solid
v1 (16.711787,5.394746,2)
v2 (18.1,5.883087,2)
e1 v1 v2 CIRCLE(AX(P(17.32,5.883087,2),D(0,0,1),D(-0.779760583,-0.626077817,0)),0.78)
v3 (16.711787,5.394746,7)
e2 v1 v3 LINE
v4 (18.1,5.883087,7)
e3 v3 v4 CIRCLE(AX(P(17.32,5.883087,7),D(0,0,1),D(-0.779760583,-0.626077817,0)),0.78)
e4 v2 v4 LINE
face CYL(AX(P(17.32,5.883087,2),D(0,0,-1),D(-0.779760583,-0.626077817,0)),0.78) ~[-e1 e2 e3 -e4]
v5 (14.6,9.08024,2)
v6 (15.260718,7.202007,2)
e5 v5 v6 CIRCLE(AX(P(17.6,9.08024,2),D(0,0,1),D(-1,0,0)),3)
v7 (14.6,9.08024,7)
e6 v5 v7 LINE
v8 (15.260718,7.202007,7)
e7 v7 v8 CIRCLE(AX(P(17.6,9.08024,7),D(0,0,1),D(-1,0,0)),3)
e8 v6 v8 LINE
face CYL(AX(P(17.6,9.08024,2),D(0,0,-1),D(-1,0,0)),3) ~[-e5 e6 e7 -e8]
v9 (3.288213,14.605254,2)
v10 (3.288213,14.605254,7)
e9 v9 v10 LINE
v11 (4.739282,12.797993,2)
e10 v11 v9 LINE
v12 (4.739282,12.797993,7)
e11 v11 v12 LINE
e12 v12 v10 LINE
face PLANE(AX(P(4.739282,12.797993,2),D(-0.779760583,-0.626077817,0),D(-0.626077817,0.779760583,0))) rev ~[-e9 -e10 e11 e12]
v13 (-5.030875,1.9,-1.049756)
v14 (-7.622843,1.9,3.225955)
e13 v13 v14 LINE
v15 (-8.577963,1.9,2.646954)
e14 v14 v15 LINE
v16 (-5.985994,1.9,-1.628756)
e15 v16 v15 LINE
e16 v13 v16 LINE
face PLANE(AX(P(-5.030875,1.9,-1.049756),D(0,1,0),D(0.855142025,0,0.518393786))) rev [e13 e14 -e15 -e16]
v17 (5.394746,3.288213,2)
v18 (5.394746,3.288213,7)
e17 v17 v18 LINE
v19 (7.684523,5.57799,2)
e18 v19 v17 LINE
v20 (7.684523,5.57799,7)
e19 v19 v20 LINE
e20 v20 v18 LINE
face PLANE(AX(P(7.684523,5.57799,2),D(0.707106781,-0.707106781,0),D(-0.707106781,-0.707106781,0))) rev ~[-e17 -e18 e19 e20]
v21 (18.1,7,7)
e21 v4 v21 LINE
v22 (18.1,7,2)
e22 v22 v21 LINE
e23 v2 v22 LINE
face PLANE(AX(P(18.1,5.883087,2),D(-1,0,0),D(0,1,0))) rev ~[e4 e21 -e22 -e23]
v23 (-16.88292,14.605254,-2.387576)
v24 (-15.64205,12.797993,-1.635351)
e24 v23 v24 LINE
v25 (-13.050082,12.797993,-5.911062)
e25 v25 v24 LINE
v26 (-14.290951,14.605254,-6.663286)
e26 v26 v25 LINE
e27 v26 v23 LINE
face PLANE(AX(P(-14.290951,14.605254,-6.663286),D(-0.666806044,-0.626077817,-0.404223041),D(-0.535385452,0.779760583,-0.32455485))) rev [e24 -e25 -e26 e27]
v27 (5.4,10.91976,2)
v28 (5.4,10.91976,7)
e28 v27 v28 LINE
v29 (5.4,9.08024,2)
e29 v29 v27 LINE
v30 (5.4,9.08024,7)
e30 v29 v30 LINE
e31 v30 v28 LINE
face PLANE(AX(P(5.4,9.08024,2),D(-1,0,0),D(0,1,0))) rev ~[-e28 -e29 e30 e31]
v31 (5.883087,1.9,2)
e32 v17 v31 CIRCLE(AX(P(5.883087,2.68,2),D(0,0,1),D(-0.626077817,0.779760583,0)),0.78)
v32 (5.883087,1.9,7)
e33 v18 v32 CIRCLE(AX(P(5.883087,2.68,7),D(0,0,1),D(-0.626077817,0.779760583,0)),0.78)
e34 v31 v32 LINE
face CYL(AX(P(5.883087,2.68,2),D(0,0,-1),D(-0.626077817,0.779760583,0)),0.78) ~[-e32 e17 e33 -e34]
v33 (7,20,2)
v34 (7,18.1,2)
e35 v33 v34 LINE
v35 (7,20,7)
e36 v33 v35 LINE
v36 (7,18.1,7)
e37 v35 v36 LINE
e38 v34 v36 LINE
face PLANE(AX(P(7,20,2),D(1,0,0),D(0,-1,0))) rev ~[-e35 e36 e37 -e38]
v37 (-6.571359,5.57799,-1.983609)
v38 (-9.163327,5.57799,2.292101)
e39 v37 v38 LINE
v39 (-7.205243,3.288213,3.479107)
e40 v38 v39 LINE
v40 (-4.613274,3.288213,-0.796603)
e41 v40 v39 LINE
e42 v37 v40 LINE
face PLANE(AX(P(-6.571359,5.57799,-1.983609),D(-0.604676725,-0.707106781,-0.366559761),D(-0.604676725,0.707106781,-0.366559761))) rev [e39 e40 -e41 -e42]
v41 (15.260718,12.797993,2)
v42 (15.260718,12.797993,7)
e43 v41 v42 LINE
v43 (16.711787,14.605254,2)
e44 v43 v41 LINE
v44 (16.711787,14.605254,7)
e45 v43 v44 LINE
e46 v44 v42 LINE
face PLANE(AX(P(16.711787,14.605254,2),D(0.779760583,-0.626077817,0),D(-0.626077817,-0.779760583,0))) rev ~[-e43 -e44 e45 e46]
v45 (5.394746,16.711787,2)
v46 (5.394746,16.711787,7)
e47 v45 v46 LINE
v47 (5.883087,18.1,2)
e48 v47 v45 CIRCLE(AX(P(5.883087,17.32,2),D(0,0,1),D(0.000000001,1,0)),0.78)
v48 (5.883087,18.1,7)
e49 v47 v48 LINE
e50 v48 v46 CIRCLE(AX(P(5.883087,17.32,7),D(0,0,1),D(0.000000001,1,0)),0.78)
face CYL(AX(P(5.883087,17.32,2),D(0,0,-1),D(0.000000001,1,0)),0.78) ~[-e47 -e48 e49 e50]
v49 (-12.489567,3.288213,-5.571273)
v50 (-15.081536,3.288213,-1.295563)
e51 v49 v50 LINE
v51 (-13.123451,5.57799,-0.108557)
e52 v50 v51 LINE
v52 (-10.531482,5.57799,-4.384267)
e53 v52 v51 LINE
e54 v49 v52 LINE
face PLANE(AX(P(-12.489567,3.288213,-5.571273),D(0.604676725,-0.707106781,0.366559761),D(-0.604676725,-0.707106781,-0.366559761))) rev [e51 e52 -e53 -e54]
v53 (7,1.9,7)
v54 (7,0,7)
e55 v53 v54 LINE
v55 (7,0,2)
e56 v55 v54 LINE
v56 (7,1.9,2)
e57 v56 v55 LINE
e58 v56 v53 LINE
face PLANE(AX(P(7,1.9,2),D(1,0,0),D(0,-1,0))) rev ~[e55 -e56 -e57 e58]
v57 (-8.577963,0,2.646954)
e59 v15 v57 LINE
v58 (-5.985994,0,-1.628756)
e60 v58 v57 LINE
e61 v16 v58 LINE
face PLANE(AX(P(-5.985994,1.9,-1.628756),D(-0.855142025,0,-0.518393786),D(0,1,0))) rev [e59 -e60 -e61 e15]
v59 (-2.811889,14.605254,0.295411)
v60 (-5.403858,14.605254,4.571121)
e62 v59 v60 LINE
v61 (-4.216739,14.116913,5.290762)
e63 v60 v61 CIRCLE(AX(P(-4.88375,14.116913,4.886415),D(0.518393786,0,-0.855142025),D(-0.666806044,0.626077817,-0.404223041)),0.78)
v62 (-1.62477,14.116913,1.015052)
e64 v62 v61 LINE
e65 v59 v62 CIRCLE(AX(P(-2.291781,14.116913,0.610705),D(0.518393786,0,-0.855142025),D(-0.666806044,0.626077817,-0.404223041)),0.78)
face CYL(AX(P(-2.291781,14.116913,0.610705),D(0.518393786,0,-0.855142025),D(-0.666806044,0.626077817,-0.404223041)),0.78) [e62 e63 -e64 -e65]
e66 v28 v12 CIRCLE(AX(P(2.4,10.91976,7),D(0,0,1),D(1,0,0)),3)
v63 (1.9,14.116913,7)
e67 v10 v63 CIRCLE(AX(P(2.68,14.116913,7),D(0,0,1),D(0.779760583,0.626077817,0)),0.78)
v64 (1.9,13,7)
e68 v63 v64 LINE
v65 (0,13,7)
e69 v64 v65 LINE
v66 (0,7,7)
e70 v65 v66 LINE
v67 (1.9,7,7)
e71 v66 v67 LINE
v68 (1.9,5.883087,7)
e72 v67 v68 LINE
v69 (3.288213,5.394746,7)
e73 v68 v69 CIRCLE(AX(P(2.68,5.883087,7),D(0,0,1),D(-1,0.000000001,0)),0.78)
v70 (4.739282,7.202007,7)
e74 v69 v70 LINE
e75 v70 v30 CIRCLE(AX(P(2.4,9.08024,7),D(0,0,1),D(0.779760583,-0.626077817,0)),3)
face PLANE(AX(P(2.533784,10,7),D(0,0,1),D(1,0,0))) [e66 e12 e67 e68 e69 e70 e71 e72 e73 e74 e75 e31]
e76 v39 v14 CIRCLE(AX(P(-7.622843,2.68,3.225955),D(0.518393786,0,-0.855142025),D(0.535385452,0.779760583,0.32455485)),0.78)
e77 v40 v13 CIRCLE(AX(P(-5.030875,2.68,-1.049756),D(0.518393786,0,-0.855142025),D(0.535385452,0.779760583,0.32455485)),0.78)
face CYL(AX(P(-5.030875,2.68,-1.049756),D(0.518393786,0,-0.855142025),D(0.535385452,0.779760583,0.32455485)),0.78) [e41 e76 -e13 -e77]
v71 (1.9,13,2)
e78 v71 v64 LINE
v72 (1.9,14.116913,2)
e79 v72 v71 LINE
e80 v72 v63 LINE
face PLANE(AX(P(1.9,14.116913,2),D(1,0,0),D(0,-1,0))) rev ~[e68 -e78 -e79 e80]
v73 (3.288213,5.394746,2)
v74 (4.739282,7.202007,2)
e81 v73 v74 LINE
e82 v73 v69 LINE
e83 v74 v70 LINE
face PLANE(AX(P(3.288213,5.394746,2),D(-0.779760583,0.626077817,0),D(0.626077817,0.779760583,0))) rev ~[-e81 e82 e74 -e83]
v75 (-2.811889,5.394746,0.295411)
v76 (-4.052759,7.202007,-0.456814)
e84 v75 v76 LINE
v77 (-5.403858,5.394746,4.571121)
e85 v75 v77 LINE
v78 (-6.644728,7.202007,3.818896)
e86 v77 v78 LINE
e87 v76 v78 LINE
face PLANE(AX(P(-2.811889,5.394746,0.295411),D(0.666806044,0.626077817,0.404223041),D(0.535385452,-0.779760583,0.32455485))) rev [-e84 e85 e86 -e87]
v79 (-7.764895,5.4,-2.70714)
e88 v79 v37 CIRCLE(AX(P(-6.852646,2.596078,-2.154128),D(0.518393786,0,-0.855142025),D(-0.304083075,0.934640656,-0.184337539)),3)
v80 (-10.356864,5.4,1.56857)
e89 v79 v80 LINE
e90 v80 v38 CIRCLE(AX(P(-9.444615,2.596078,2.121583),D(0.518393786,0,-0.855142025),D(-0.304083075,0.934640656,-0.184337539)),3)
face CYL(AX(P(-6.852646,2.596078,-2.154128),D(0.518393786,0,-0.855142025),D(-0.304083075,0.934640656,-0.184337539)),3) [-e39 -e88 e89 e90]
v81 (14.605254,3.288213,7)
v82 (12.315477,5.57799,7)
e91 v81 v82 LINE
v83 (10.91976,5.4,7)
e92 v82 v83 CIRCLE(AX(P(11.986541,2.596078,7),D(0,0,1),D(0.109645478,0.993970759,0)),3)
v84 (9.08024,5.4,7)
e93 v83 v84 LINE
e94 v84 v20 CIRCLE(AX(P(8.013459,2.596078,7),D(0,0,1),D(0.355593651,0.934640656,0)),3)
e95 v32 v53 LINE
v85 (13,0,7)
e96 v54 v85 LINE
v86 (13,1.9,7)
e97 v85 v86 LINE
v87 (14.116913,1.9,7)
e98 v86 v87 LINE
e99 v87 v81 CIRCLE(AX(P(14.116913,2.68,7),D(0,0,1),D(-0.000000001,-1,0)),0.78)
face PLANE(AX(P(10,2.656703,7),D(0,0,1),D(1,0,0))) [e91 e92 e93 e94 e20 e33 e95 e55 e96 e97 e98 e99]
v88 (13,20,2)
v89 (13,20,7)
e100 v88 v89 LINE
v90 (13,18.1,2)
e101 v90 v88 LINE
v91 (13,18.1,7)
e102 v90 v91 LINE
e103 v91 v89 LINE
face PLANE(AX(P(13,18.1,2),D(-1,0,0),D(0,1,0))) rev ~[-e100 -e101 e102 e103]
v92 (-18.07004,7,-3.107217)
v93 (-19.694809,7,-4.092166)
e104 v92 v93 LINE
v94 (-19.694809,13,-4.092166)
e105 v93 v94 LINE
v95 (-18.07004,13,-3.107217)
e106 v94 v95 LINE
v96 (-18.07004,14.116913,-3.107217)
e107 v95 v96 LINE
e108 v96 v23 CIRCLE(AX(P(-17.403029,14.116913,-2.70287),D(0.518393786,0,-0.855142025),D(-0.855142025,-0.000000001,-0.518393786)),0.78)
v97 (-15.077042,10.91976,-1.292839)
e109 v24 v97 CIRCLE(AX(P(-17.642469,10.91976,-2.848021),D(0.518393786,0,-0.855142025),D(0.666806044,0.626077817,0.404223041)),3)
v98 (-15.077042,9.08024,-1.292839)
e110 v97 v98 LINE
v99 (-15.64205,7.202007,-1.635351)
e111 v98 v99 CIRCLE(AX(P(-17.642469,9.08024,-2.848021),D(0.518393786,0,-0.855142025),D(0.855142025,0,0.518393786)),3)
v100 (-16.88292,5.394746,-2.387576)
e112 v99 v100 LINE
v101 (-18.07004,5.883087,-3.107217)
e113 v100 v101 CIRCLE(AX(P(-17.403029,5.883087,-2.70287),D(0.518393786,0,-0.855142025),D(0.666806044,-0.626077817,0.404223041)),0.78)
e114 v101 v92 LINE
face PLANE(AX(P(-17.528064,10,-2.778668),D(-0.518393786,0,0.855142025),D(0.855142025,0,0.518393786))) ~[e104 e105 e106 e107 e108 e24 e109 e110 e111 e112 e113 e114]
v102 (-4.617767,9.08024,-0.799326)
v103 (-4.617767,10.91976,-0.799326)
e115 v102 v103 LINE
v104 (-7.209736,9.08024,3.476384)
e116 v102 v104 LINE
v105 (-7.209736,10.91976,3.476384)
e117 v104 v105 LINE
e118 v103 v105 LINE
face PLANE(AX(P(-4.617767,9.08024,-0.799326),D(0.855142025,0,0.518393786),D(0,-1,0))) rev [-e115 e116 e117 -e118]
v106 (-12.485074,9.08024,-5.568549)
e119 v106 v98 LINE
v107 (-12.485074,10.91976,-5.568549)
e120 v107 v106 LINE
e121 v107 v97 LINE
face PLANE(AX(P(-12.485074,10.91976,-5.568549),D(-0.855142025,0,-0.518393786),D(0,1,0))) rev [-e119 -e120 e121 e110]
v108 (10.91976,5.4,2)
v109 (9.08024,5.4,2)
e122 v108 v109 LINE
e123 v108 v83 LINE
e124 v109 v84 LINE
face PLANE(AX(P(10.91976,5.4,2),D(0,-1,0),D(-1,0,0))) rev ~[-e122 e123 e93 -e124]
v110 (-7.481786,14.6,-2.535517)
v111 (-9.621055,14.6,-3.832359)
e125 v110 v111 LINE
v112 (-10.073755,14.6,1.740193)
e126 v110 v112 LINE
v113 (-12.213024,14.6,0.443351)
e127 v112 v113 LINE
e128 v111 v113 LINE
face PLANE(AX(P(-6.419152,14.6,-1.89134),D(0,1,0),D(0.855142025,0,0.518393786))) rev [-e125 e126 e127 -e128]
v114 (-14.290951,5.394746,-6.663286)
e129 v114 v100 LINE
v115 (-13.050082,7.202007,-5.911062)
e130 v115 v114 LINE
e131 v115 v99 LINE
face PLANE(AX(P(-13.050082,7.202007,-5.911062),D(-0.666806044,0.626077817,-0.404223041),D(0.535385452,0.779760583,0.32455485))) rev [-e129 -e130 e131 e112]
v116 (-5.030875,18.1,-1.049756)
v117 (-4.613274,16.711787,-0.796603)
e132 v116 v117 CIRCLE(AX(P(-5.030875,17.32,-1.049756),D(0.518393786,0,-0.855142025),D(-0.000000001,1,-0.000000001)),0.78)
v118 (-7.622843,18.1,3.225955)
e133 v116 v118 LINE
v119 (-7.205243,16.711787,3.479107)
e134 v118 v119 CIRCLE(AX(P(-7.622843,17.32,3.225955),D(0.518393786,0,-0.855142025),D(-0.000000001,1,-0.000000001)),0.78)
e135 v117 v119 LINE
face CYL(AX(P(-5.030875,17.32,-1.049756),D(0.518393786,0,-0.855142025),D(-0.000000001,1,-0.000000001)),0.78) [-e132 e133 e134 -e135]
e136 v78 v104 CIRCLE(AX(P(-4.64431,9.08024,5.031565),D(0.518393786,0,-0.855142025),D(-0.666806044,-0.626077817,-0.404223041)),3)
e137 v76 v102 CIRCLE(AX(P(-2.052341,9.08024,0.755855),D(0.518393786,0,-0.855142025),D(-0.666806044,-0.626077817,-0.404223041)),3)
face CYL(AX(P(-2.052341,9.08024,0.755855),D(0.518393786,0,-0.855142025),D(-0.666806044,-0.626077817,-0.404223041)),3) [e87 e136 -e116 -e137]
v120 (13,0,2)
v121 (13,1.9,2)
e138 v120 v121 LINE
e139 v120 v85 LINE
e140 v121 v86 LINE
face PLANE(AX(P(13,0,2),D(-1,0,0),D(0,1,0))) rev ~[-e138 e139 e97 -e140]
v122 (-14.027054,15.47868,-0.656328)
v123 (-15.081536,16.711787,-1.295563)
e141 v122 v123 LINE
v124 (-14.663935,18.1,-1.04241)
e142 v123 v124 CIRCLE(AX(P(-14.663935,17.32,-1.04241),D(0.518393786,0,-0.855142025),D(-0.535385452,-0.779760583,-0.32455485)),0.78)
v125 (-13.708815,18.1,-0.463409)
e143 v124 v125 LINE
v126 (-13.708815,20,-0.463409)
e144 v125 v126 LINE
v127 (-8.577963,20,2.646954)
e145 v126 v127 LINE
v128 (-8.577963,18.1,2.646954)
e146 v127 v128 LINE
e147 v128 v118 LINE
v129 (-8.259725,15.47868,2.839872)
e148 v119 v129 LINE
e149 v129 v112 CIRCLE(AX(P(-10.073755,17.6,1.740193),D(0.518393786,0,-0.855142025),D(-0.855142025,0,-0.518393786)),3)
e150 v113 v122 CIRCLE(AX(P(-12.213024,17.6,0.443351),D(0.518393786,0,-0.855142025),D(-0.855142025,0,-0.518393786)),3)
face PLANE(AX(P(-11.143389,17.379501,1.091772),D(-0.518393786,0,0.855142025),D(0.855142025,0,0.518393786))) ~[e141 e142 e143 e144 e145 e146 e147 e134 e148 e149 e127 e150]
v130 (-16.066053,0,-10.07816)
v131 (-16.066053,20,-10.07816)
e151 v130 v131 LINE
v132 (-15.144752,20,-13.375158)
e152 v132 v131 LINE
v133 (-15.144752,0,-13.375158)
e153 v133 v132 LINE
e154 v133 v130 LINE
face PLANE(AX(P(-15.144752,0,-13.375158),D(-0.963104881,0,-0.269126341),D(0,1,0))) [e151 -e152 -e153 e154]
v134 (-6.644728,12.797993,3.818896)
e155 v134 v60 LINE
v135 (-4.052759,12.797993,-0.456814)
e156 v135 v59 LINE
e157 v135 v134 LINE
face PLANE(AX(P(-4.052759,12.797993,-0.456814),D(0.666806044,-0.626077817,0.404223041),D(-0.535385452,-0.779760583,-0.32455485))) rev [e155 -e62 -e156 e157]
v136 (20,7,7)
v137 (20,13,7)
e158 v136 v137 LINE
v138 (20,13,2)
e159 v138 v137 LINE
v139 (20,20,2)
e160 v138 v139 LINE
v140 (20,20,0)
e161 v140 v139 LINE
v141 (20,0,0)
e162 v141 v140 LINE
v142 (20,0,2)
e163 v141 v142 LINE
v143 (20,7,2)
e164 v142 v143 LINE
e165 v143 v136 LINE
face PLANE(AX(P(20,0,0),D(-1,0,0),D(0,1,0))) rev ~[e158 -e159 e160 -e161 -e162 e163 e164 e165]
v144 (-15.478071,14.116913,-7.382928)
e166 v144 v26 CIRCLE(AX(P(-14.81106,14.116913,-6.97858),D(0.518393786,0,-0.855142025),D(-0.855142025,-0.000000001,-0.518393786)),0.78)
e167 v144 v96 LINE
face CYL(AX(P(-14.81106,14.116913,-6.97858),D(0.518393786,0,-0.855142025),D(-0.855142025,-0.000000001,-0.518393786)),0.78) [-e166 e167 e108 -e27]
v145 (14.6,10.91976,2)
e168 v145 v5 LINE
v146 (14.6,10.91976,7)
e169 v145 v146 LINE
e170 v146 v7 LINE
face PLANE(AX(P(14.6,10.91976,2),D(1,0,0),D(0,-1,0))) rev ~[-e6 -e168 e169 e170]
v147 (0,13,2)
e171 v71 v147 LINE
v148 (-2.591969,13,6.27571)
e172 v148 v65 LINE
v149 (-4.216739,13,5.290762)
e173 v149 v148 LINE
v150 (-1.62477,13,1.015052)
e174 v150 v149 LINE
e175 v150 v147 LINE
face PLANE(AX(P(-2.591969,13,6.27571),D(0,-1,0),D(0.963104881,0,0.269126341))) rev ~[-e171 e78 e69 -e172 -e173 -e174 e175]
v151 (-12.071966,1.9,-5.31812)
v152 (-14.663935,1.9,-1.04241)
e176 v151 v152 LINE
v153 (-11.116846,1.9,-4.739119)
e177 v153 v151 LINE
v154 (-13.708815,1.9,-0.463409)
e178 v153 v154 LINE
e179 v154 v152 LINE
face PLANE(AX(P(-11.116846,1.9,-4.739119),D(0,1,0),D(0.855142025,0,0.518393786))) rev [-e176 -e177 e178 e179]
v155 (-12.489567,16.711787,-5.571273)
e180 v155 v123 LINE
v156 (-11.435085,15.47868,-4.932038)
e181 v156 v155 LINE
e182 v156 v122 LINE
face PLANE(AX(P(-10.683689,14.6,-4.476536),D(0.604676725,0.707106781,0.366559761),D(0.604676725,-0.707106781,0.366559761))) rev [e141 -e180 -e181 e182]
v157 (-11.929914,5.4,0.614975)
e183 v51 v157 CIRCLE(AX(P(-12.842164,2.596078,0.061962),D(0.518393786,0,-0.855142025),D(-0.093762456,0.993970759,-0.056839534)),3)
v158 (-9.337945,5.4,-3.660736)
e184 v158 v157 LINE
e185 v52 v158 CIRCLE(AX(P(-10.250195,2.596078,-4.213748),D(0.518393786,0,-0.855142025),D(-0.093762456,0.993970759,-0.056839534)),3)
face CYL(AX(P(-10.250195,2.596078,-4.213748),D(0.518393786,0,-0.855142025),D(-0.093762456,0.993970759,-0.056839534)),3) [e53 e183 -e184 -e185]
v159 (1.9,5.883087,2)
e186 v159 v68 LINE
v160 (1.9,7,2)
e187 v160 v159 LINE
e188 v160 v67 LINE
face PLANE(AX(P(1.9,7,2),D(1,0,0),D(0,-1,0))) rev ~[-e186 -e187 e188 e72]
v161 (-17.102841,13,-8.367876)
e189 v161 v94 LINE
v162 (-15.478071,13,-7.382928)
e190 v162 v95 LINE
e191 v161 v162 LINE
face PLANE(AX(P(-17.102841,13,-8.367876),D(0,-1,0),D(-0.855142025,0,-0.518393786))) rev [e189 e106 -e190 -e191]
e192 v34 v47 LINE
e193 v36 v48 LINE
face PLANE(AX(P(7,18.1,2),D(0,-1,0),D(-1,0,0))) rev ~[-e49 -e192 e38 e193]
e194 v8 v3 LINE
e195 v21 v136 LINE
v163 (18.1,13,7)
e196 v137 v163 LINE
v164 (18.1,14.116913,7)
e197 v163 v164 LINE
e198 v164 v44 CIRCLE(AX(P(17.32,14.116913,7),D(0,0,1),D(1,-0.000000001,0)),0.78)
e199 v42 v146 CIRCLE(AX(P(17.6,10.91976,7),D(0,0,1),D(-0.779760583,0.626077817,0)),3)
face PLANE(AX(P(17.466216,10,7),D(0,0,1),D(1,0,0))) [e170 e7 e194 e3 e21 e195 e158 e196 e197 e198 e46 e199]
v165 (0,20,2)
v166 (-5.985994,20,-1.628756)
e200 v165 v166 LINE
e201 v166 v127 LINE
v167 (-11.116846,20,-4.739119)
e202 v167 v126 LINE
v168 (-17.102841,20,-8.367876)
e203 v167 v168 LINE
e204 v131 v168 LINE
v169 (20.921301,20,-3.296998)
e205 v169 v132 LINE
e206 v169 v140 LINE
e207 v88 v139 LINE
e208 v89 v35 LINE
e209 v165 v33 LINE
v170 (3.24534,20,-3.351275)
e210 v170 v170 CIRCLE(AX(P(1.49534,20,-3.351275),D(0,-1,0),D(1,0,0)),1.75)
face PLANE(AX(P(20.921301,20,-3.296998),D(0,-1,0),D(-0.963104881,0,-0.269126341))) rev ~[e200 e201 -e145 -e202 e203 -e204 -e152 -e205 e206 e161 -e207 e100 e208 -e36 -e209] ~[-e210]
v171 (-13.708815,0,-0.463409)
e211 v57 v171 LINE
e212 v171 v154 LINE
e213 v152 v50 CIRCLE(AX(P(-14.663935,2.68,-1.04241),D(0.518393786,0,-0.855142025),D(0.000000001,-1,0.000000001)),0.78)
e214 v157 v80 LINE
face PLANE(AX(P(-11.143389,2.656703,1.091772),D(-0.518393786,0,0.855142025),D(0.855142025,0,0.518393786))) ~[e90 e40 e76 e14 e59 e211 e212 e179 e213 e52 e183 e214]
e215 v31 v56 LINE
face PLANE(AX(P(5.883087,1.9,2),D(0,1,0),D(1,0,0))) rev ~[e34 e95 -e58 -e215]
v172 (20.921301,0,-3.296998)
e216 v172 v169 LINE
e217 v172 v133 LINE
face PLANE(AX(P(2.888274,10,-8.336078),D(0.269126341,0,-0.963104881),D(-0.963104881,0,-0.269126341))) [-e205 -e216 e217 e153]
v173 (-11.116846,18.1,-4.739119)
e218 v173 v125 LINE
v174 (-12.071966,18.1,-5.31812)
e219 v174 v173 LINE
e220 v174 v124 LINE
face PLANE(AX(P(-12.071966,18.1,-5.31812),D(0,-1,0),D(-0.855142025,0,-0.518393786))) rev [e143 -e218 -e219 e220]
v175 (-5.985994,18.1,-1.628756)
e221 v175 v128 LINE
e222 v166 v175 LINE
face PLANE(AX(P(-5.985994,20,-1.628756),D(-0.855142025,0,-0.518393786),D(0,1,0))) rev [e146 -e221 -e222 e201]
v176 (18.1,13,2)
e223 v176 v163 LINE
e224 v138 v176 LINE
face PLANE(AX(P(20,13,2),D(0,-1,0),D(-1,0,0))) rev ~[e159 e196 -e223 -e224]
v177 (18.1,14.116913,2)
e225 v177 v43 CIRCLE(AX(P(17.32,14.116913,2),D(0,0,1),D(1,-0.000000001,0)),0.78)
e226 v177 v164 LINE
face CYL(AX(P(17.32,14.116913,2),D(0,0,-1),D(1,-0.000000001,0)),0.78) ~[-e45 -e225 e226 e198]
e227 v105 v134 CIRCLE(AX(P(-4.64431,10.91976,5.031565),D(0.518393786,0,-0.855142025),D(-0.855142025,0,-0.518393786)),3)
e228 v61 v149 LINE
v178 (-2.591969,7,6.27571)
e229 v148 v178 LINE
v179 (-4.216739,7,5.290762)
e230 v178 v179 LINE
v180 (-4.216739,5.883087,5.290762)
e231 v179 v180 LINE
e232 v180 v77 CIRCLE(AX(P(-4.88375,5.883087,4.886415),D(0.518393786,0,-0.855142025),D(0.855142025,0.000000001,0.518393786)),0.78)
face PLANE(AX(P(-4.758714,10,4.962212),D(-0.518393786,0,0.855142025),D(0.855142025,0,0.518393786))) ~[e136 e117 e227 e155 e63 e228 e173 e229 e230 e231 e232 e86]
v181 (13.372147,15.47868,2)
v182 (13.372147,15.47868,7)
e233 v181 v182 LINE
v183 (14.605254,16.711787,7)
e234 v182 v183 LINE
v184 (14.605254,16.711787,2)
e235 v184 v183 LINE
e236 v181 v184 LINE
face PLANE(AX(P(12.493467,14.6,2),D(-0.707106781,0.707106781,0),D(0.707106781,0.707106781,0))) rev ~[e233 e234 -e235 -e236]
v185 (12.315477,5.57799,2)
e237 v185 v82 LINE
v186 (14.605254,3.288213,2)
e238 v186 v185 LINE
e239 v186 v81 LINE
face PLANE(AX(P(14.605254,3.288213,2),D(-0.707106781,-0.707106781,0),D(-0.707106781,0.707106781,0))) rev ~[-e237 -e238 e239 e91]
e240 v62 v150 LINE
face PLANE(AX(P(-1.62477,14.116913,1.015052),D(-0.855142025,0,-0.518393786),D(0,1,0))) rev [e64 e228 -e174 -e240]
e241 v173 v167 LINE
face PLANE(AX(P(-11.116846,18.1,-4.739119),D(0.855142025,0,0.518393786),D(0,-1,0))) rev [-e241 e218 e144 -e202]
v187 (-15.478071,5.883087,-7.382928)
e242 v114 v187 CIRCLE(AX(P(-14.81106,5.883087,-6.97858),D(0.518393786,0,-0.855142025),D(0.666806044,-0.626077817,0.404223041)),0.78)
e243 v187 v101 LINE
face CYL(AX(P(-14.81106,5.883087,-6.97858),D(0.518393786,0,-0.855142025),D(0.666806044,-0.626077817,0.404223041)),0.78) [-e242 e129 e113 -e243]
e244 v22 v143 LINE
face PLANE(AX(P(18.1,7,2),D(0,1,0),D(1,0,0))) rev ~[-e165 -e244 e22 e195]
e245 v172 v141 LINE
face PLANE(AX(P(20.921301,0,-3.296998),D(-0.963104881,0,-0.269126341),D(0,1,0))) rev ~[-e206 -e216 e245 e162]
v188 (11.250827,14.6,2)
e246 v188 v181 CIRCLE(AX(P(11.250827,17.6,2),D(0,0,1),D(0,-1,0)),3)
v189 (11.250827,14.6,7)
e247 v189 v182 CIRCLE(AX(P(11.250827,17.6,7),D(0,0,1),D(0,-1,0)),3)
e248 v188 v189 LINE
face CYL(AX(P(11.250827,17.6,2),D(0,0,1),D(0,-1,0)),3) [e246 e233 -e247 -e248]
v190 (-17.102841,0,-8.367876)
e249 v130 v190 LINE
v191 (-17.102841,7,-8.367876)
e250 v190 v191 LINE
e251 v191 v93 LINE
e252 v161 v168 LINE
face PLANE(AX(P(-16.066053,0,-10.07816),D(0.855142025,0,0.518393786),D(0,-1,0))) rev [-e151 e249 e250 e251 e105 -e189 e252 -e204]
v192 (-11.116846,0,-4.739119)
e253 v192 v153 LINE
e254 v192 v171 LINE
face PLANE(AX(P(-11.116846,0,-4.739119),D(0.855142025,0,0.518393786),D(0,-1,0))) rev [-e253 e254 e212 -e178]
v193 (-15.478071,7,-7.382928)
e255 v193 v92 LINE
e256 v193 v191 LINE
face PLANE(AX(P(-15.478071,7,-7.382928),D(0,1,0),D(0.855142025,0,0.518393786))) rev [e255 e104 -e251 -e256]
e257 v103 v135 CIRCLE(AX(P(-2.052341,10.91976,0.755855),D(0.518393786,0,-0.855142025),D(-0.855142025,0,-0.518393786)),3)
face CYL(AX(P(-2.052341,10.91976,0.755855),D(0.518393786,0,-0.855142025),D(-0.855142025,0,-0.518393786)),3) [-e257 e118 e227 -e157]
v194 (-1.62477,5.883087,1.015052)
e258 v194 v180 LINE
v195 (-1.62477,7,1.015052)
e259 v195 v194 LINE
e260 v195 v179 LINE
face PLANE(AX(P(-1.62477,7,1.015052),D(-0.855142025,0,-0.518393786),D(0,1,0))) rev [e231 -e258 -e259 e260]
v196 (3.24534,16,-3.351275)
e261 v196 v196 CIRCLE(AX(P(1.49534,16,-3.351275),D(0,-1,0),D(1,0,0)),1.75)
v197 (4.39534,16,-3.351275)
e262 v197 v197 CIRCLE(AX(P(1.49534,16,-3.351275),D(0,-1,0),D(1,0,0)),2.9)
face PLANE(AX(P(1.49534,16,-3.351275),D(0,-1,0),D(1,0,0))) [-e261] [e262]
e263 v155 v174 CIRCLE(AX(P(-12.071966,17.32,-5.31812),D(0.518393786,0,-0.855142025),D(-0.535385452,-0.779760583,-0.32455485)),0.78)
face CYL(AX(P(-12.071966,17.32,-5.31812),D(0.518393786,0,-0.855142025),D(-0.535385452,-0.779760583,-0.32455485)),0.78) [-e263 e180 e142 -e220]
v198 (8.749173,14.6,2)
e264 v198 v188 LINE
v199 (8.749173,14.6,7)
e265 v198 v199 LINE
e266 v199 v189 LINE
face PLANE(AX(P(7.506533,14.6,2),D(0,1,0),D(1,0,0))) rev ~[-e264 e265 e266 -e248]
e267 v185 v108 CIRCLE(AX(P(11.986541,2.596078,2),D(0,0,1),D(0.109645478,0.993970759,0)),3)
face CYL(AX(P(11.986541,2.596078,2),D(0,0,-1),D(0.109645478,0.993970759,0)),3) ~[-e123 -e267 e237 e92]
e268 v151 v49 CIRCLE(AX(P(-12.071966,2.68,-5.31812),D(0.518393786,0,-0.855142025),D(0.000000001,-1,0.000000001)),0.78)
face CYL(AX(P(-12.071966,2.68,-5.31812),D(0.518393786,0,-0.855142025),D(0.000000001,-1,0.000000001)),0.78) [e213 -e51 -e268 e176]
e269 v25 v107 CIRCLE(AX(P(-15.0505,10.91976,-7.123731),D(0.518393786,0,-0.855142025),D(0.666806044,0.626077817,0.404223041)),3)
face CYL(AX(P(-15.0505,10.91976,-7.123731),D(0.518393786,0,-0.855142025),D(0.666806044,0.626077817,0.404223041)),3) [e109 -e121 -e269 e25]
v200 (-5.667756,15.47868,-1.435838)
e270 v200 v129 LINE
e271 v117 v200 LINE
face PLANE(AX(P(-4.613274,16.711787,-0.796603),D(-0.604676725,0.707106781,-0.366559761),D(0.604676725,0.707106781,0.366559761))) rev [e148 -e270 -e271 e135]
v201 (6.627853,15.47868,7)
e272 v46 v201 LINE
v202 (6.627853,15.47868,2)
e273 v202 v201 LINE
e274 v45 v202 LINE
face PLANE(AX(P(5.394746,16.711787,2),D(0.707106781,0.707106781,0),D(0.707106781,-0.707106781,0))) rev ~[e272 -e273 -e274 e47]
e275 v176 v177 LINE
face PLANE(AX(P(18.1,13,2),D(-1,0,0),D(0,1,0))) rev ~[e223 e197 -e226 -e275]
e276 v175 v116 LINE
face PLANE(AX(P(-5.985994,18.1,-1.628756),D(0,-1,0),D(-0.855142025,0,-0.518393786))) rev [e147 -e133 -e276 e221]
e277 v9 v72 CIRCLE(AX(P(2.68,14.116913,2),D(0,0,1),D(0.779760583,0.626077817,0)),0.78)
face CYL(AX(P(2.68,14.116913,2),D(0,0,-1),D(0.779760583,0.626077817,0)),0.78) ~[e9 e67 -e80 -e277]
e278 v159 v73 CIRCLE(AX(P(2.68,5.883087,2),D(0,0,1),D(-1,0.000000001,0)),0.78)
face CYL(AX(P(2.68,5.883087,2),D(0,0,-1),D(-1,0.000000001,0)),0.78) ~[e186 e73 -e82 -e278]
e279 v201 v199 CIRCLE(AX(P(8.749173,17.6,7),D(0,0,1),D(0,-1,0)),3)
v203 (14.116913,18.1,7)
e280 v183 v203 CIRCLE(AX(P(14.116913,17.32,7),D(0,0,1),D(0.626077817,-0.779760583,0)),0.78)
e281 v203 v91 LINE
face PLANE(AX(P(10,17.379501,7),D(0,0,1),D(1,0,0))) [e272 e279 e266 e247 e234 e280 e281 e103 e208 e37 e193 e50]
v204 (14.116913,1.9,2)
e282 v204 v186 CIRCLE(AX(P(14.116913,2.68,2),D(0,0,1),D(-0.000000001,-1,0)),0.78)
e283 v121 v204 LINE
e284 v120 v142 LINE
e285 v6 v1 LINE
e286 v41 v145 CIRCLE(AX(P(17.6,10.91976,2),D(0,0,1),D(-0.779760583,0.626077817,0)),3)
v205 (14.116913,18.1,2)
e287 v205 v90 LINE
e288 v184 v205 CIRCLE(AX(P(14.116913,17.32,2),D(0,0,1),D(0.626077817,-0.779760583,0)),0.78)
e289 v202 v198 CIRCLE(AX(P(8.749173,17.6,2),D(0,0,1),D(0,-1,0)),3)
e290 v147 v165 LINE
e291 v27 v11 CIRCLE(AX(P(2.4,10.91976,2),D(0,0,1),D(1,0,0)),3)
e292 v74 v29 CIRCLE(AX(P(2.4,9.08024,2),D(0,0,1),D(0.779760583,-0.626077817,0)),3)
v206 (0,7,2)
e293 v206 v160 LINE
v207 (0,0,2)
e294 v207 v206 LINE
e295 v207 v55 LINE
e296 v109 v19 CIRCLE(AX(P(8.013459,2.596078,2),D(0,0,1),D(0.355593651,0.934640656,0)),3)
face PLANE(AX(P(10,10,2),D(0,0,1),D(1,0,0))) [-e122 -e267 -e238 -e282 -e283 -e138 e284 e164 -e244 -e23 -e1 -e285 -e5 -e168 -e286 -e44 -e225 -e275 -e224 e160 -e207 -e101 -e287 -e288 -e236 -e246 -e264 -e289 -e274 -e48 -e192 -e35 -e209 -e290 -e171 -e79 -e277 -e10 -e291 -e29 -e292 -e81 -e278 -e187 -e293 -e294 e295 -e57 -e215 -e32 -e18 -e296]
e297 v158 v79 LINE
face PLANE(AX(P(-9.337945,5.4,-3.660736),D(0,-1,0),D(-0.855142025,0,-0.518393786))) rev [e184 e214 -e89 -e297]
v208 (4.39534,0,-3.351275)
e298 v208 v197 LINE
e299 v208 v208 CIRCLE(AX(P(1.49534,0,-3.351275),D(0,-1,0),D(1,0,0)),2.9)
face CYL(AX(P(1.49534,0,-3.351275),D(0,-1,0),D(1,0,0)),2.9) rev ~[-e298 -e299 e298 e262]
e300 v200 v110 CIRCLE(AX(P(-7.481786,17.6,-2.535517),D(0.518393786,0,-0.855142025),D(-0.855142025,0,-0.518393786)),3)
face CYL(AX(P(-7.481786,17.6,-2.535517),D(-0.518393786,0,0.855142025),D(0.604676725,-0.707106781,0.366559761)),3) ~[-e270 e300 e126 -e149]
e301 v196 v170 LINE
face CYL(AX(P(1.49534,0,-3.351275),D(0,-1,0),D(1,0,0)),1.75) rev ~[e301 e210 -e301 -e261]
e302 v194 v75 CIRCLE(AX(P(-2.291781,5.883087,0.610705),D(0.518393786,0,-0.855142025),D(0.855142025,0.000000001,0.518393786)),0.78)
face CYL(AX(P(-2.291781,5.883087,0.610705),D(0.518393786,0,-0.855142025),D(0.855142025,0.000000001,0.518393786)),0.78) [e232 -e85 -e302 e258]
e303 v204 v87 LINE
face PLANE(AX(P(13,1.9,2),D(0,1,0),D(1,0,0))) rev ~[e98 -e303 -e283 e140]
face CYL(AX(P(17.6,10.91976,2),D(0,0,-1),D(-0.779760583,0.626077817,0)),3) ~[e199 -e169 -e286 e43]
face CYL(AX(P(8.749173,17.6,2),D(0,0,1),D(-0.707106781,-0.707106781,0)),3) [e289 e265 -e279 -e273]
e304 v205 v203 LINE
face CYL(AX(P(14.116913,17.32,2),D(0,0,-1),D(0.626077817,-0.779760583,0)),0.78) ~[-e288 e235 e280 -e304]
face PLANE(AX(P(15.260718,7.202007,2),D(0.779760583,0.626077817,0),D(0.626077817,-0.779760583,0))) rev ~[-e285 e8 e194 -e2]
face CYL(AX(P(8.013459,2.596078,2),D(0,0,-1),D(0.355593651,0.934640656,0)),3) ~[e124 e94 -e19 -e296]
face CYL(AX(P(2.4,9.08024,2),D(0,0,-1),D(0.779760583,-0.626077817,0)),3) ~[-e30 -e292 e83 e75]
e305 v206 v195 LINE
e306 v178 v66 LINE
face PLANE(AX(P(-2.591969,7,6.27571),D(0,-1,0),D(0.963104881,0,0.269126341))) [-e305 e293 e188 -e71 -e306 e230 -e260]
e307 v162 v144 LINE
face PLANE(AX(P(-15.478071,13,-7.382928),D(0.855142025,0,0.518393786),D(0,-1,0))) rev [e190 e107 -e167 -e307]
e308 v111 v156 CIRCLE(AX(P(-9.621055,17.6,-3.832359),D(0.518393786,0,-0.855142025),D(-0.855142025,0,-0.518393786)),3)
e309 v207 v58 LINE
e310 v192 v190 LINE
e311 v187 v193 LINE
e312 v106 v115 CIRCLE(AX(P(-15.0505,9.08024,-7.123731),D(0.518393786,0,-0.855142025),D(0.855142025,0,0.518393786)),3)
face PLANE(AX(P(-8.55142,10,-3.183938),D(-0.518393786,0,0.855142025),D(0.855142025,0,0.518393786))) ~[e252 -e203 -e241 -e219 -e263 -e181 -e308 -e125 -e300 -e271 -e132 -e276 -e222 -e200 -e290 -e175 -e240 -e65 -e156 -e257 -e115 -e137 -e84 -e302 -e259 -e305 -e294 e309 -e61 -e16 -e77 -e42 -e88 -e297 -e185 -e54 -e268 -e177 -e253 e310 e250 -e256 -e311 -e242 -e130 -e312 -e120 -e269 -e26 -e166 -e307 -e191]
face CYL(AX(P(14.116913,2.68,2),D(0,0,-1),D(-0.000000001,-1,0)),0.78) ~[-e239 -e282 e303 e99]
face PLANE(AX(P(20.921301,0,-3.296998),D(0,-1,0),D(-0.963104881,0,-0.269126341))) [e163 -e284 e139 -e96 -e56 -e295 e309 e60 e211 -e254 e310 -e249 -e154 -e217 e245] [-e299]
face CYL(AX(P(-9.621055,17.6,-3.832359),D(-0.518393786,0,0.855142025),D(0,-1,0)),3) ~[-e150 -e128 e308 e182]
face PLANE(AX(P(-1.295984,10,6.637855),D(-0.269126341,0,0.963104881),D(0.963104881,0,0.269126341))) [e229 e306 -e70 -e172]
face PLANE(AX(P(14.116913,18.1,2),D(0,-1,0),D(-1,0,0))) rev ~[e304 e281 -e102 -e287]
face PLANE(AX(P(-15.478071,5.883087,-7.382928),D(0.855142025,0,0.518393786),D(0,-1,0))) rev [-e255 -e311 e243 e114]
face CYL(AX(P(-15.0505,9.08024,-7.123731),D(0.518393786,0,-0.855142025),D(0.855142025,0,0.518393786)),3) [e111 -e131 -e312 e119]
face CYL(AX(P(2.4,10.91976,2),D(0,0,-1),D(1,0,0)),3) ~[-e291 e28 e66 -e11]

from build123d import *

# Parameters (mm, degrees)
SKIZZE1_W                       = 20
SKIZZE1_H                       = 20
AUFSATZ_LINEAR_AUSTRAGEN1_DEPTH = 2
AUFSATZ_LINEAR_AUSTRAGEN3_DEPTH = 5
VERRUNDUNG1_R                   = 3
VERRUNDUNG1_OF_SPIEGELN1_R      = 3
AUFSATZ_LINEAR_AUSTRAGEN4_REACH = 22.848
SKIZZE3_W                       = 37.447689889
SKIZZE3_H                       = 20
SKIZZE4_R                       = 1.75
SCHNITT_LINEAR_AUSTRAGEN1_DEPTH = 21
SKIZZE4_3_R                     = 2.9
SKIZZE4_3_R_2                   = 1.75
SCHNITT_LINEAR_AUSTRAGEN2_DEPTH = 16
AUFSATZ_LINEAR_AUSTRAGEN5_REACH = 27.254
SKIZZE5_W                       = 2.691263413
SKIZZE5_H                       = 6


with BuildPart() as part:
    # Skizze1 → Aufsatz-Linear austragen1 (new body)
    with BuildSketch(Plane.XY):
        with Locations((10, 10)):
            Rectangle(SKIZZE1_W, SKIZZE1_H)
    aufsatz_linear_austragen1 = extrude(amount=AUFSATZ_LINEAR_AUSTRAGEN1_DEPTH)

    # Skizze2 → Aufsatz-Linear austragen3 (add)
    with BuildSketch(Plane.XY.offset(2)):
        with BuildLine():
            Line((13, 18.1), (13, 20))
            Line((13, 20), (7, 20))
            Line((7, 20), (7, 18.1))
            Line((7, 18.1), (5.883086579, 18.1))
            ThreePointArc((5.883086579, 18.1), (5.147285539, 17.57883746), (5.394745881, 16.711786745))
            Line((5.394745881, 16.711786745), (7.506532626, 14.6))
            Line((7.506532626, 14.6), (9.080240322, 14.6))
            Line((9.080240322, 14.6), (10.919759678, 14.6))
            Line((10.919759678, 14.6), (12.493467374, 14.6))
            Line((12.493467374, 14.6), (14.605254119, 16.711786745))
            ThreePointArc((14.605254119, 16.711786745), (14.852714461, 17.57883746), (14.116913421, 18.1))
            Line((14.116913421, 18.1), (13, 18.1))
        make_face()
        with BuildLine():
            Line((1.9, 13), (0, 13))
            Line((0, 13), (0, 7))
            Line((0, 7), (1.9, 7))
            Line((1.9, 7), (1.9, 5.883086579))
            ThreePointArc((1.9, 5.883086579), (2.42116254, 5.147285539), (3.288213255, 5.394745881))
            Line((3.288213255, 5.394745881), (4.739281749, 7.20200687))
            ThreePointArc((4.739281749, 7.20200687), (5.230003997, 8.08471163), (5.4, 9.080240322))
            Line((5.4, 9.080240322), (5.4, 10.919759678))
            ThreePointArc((5.4, 10.919759678), (5.230003997, 11.91528837), (4.739281749, 12.79799313))
            Line((4.739281749, 12.79799313), (3.288213255, 14.605254119))
            ThreePointArc((3.288213255, 14.605254119), (2.42116254, 14.852714461), (1.9, 14.116913421))
            Line((1.9, 14.116913421), (1.9, 13))
        make_face()
        with BuildLine():
            Line((7, 0), (13, 0))
            Line((13, 0), (13, 1.9))
            Line((13, 1.9), (14.116913421, 1.9))
            ThreePointArc((14.116913421, 1.9), (14.852714461, 2.42116254), (14.605254119, 3.288213255))
            Line((14.605254119, 3.288213255), (12.315477065, 5.577990309))
            ThreePointArc((12.315477065, 5.577990309), (11.607035992, 5.571977263), (10.919759678, 5.4))
            Line((10.919759678, 5.4), (9.080240322, 5.4))
            ThreePointArc((9.080240322, 5.4), (8.392964008, 5.571977263), (7.684522935, 5.577990309))
            Line((7.684522935, 5.577990309), (5.394745881, 3.288213255))
            ThreePointArc((5.394745881, 3.288213255), (5.147285539, 2.42116254), (5.883086579, 1.9))
            Line((5.883086579, 1.9), (7, 1.9))
            Line((7, 1.9), (7, 0))
        make_face()
        with BuildLine():
            Line((20, 7), (20, 13))
            Line((20, 13), (18.1, 13))
            Line((18.1, 13), (18.1, 14.116913421))
            ThreePointArc((18.1, 14.116913421), (17.57883746, 14.852714461), (16.711786745, 14.605254119))
            Line((16.711786745, 14.605254119), (15.260718251, 12.79799313))
            ThreePointArc((15.260718251, 12.79799313), (14.769996003, 11.91528837), (14.6, 10.919759678))
            Line((14.6, 10.919759678), (14.6, 9.080240322))
            ThreePointArc((14.6, 9.080240322), (14.769996003, 8.08471163), (15.260718251, 7.20200687))
            Line((15.260718251, 7.20200687), (16.711786745, 5.394745881))
            ThreePointArc((16.711786745, 5.394745881), (17.57883746, 5.147285539), (18.1, 5.883086579))
            Line((18.1, 5.883086579), (18.1, 7))
            Line((18.1, 7), (20, 7))
        make_face()
    aufsatz_linear_austragen3 = extrude(amount=AUFSATZ_LINEAR_AUSTRAGEN3_DEPTH)

    # Verrundung1
    verrundung1_edges = [part.edges().sort_by_distance(p)[0] for p in [
        (7.506532626, 14.6, 4.5),
        (12.493467374, 14.6, 4.5),
    ]]
    fillet(verrundung1_edges, radius=VERRUNDUNG1_R)

    # Spiegeln1: Aufsatz-Linear austragen1, Aufsatz-Linear austragen3 across plane
    add(aufsatz_linear_austragen1.mirror(Plane(origin=(0.518393786, 0, 0.144857975), x_dir=(-0.269126341, 0, 0.963104881), z_dir=(-0.963104881, 0, -0.269126341))))
    add(aufsatz_linear_austragen3.mirror(Plane(origin=(0.518393786, 0, 0.144857975), x_dir=(-0.269126341, 0, 0.963104881), z_dir=(-0.963104881, 0, -0.269126341))))

    # Verrundung1 of Spiegeln1
    verrundung1_of_spiegeln1_edges = [part.edges().sort_by_distance(p)[0] for p in [
        (-7.715135975, 14.6, 0.246515195),
        (-11.979673452, 14.6, -2.338680788),
    ]]
    fillet(verrundung1_of_spiegeln1_edges, radius=VERRUNDUNG1_OF_SPIEGELN1_R)

    # Skizze3 → Aufsatz-Linear austragen4 (add, up to next)
    with BuildSketch(Plane(origin=(2.36988033, 0, -8.480936141), x_dir=(-0.963104881, 0, -0.269126341), z_dir=(0.269126341, 0, -0.963104881)), mode=Mode.PRIVATE) as aufsatz_linear_austragen4_sk1:
        with Locations((-0.538252683, 10)):
            Rectangle(SKIZZE3_W, SKIZZE3_H)
    aufsatz_linear_austragen4_tool1 = extrude(aufsatz_linear_austragen4_sk1.sketch, amount=-AUFSATZ_LINEAR_AUSTRAGEN4_REACH, mode=Mode.PRIVATE) - part.part
    add(aufsatz_linear_austragen4_tool1.solids().sort_by_distance((2.888274, 10, -8.336078))[0])

    # Skizze4 → Schnitt-Linear austragen1 (cut, through all)
    with BuildSketch(Plane.XZ):
        with Locations((1.495339923, -3.351275437)):
            Circle(SKIZZE4_R)
    extrude(amount=-SCHNITT_LINEAR_AUSTRAGEN1_DEPTH, mode=Mode.SUBTRACT)

    # Skizze4<3> → Schnitt-Linear austragen2 (cut)
    with BuildSketch(Plane.XZ):
        with Locations((1.495339923, -3.351275437)):
            Circle(SKIZZE4_3_R)
        with Locations((1.495339923, -3.351275437)):
            Circle(SKIZZE4_3_R_2, mode=Mode.SUBTRACT)
    extrude(amount=-SCHNITT_LINEAR_AUSTRAGEN2_DEPTH, mode=Mode.SUBTRACT)

    # Skizze5 → Aufsatz-Linear austragen5 (add, up to next)
    with BuildSketch(Plane(origin=(-1.814378251, 0, 6.492997087), x_dir=(0.963104881, 0, 0.269126341), z_dir=(-0.269126341, 0, 0.963104881)), mode=Mode.PRIVATE) as aufsatz_linear_austragen5_sk1:
        with Locations((0.538252683, 10)):
            Rectangle(SKIZZE5_W, SKIZZE5_H)
    aufsatz_linear_austragen5_tool1 = extrude(aufsatz_linear_austragen5_sk1.sketch, amount=-AUFSATZ_LINEAR_AUSTRAGEN5_REACH, mode=Mode.PRIVATE) - part.part
    add(aufsatz_linear_austragen5_tool1.solids().sort_by_distance((-1.295984, 10, 6.637855))[0])


solid = part.part
